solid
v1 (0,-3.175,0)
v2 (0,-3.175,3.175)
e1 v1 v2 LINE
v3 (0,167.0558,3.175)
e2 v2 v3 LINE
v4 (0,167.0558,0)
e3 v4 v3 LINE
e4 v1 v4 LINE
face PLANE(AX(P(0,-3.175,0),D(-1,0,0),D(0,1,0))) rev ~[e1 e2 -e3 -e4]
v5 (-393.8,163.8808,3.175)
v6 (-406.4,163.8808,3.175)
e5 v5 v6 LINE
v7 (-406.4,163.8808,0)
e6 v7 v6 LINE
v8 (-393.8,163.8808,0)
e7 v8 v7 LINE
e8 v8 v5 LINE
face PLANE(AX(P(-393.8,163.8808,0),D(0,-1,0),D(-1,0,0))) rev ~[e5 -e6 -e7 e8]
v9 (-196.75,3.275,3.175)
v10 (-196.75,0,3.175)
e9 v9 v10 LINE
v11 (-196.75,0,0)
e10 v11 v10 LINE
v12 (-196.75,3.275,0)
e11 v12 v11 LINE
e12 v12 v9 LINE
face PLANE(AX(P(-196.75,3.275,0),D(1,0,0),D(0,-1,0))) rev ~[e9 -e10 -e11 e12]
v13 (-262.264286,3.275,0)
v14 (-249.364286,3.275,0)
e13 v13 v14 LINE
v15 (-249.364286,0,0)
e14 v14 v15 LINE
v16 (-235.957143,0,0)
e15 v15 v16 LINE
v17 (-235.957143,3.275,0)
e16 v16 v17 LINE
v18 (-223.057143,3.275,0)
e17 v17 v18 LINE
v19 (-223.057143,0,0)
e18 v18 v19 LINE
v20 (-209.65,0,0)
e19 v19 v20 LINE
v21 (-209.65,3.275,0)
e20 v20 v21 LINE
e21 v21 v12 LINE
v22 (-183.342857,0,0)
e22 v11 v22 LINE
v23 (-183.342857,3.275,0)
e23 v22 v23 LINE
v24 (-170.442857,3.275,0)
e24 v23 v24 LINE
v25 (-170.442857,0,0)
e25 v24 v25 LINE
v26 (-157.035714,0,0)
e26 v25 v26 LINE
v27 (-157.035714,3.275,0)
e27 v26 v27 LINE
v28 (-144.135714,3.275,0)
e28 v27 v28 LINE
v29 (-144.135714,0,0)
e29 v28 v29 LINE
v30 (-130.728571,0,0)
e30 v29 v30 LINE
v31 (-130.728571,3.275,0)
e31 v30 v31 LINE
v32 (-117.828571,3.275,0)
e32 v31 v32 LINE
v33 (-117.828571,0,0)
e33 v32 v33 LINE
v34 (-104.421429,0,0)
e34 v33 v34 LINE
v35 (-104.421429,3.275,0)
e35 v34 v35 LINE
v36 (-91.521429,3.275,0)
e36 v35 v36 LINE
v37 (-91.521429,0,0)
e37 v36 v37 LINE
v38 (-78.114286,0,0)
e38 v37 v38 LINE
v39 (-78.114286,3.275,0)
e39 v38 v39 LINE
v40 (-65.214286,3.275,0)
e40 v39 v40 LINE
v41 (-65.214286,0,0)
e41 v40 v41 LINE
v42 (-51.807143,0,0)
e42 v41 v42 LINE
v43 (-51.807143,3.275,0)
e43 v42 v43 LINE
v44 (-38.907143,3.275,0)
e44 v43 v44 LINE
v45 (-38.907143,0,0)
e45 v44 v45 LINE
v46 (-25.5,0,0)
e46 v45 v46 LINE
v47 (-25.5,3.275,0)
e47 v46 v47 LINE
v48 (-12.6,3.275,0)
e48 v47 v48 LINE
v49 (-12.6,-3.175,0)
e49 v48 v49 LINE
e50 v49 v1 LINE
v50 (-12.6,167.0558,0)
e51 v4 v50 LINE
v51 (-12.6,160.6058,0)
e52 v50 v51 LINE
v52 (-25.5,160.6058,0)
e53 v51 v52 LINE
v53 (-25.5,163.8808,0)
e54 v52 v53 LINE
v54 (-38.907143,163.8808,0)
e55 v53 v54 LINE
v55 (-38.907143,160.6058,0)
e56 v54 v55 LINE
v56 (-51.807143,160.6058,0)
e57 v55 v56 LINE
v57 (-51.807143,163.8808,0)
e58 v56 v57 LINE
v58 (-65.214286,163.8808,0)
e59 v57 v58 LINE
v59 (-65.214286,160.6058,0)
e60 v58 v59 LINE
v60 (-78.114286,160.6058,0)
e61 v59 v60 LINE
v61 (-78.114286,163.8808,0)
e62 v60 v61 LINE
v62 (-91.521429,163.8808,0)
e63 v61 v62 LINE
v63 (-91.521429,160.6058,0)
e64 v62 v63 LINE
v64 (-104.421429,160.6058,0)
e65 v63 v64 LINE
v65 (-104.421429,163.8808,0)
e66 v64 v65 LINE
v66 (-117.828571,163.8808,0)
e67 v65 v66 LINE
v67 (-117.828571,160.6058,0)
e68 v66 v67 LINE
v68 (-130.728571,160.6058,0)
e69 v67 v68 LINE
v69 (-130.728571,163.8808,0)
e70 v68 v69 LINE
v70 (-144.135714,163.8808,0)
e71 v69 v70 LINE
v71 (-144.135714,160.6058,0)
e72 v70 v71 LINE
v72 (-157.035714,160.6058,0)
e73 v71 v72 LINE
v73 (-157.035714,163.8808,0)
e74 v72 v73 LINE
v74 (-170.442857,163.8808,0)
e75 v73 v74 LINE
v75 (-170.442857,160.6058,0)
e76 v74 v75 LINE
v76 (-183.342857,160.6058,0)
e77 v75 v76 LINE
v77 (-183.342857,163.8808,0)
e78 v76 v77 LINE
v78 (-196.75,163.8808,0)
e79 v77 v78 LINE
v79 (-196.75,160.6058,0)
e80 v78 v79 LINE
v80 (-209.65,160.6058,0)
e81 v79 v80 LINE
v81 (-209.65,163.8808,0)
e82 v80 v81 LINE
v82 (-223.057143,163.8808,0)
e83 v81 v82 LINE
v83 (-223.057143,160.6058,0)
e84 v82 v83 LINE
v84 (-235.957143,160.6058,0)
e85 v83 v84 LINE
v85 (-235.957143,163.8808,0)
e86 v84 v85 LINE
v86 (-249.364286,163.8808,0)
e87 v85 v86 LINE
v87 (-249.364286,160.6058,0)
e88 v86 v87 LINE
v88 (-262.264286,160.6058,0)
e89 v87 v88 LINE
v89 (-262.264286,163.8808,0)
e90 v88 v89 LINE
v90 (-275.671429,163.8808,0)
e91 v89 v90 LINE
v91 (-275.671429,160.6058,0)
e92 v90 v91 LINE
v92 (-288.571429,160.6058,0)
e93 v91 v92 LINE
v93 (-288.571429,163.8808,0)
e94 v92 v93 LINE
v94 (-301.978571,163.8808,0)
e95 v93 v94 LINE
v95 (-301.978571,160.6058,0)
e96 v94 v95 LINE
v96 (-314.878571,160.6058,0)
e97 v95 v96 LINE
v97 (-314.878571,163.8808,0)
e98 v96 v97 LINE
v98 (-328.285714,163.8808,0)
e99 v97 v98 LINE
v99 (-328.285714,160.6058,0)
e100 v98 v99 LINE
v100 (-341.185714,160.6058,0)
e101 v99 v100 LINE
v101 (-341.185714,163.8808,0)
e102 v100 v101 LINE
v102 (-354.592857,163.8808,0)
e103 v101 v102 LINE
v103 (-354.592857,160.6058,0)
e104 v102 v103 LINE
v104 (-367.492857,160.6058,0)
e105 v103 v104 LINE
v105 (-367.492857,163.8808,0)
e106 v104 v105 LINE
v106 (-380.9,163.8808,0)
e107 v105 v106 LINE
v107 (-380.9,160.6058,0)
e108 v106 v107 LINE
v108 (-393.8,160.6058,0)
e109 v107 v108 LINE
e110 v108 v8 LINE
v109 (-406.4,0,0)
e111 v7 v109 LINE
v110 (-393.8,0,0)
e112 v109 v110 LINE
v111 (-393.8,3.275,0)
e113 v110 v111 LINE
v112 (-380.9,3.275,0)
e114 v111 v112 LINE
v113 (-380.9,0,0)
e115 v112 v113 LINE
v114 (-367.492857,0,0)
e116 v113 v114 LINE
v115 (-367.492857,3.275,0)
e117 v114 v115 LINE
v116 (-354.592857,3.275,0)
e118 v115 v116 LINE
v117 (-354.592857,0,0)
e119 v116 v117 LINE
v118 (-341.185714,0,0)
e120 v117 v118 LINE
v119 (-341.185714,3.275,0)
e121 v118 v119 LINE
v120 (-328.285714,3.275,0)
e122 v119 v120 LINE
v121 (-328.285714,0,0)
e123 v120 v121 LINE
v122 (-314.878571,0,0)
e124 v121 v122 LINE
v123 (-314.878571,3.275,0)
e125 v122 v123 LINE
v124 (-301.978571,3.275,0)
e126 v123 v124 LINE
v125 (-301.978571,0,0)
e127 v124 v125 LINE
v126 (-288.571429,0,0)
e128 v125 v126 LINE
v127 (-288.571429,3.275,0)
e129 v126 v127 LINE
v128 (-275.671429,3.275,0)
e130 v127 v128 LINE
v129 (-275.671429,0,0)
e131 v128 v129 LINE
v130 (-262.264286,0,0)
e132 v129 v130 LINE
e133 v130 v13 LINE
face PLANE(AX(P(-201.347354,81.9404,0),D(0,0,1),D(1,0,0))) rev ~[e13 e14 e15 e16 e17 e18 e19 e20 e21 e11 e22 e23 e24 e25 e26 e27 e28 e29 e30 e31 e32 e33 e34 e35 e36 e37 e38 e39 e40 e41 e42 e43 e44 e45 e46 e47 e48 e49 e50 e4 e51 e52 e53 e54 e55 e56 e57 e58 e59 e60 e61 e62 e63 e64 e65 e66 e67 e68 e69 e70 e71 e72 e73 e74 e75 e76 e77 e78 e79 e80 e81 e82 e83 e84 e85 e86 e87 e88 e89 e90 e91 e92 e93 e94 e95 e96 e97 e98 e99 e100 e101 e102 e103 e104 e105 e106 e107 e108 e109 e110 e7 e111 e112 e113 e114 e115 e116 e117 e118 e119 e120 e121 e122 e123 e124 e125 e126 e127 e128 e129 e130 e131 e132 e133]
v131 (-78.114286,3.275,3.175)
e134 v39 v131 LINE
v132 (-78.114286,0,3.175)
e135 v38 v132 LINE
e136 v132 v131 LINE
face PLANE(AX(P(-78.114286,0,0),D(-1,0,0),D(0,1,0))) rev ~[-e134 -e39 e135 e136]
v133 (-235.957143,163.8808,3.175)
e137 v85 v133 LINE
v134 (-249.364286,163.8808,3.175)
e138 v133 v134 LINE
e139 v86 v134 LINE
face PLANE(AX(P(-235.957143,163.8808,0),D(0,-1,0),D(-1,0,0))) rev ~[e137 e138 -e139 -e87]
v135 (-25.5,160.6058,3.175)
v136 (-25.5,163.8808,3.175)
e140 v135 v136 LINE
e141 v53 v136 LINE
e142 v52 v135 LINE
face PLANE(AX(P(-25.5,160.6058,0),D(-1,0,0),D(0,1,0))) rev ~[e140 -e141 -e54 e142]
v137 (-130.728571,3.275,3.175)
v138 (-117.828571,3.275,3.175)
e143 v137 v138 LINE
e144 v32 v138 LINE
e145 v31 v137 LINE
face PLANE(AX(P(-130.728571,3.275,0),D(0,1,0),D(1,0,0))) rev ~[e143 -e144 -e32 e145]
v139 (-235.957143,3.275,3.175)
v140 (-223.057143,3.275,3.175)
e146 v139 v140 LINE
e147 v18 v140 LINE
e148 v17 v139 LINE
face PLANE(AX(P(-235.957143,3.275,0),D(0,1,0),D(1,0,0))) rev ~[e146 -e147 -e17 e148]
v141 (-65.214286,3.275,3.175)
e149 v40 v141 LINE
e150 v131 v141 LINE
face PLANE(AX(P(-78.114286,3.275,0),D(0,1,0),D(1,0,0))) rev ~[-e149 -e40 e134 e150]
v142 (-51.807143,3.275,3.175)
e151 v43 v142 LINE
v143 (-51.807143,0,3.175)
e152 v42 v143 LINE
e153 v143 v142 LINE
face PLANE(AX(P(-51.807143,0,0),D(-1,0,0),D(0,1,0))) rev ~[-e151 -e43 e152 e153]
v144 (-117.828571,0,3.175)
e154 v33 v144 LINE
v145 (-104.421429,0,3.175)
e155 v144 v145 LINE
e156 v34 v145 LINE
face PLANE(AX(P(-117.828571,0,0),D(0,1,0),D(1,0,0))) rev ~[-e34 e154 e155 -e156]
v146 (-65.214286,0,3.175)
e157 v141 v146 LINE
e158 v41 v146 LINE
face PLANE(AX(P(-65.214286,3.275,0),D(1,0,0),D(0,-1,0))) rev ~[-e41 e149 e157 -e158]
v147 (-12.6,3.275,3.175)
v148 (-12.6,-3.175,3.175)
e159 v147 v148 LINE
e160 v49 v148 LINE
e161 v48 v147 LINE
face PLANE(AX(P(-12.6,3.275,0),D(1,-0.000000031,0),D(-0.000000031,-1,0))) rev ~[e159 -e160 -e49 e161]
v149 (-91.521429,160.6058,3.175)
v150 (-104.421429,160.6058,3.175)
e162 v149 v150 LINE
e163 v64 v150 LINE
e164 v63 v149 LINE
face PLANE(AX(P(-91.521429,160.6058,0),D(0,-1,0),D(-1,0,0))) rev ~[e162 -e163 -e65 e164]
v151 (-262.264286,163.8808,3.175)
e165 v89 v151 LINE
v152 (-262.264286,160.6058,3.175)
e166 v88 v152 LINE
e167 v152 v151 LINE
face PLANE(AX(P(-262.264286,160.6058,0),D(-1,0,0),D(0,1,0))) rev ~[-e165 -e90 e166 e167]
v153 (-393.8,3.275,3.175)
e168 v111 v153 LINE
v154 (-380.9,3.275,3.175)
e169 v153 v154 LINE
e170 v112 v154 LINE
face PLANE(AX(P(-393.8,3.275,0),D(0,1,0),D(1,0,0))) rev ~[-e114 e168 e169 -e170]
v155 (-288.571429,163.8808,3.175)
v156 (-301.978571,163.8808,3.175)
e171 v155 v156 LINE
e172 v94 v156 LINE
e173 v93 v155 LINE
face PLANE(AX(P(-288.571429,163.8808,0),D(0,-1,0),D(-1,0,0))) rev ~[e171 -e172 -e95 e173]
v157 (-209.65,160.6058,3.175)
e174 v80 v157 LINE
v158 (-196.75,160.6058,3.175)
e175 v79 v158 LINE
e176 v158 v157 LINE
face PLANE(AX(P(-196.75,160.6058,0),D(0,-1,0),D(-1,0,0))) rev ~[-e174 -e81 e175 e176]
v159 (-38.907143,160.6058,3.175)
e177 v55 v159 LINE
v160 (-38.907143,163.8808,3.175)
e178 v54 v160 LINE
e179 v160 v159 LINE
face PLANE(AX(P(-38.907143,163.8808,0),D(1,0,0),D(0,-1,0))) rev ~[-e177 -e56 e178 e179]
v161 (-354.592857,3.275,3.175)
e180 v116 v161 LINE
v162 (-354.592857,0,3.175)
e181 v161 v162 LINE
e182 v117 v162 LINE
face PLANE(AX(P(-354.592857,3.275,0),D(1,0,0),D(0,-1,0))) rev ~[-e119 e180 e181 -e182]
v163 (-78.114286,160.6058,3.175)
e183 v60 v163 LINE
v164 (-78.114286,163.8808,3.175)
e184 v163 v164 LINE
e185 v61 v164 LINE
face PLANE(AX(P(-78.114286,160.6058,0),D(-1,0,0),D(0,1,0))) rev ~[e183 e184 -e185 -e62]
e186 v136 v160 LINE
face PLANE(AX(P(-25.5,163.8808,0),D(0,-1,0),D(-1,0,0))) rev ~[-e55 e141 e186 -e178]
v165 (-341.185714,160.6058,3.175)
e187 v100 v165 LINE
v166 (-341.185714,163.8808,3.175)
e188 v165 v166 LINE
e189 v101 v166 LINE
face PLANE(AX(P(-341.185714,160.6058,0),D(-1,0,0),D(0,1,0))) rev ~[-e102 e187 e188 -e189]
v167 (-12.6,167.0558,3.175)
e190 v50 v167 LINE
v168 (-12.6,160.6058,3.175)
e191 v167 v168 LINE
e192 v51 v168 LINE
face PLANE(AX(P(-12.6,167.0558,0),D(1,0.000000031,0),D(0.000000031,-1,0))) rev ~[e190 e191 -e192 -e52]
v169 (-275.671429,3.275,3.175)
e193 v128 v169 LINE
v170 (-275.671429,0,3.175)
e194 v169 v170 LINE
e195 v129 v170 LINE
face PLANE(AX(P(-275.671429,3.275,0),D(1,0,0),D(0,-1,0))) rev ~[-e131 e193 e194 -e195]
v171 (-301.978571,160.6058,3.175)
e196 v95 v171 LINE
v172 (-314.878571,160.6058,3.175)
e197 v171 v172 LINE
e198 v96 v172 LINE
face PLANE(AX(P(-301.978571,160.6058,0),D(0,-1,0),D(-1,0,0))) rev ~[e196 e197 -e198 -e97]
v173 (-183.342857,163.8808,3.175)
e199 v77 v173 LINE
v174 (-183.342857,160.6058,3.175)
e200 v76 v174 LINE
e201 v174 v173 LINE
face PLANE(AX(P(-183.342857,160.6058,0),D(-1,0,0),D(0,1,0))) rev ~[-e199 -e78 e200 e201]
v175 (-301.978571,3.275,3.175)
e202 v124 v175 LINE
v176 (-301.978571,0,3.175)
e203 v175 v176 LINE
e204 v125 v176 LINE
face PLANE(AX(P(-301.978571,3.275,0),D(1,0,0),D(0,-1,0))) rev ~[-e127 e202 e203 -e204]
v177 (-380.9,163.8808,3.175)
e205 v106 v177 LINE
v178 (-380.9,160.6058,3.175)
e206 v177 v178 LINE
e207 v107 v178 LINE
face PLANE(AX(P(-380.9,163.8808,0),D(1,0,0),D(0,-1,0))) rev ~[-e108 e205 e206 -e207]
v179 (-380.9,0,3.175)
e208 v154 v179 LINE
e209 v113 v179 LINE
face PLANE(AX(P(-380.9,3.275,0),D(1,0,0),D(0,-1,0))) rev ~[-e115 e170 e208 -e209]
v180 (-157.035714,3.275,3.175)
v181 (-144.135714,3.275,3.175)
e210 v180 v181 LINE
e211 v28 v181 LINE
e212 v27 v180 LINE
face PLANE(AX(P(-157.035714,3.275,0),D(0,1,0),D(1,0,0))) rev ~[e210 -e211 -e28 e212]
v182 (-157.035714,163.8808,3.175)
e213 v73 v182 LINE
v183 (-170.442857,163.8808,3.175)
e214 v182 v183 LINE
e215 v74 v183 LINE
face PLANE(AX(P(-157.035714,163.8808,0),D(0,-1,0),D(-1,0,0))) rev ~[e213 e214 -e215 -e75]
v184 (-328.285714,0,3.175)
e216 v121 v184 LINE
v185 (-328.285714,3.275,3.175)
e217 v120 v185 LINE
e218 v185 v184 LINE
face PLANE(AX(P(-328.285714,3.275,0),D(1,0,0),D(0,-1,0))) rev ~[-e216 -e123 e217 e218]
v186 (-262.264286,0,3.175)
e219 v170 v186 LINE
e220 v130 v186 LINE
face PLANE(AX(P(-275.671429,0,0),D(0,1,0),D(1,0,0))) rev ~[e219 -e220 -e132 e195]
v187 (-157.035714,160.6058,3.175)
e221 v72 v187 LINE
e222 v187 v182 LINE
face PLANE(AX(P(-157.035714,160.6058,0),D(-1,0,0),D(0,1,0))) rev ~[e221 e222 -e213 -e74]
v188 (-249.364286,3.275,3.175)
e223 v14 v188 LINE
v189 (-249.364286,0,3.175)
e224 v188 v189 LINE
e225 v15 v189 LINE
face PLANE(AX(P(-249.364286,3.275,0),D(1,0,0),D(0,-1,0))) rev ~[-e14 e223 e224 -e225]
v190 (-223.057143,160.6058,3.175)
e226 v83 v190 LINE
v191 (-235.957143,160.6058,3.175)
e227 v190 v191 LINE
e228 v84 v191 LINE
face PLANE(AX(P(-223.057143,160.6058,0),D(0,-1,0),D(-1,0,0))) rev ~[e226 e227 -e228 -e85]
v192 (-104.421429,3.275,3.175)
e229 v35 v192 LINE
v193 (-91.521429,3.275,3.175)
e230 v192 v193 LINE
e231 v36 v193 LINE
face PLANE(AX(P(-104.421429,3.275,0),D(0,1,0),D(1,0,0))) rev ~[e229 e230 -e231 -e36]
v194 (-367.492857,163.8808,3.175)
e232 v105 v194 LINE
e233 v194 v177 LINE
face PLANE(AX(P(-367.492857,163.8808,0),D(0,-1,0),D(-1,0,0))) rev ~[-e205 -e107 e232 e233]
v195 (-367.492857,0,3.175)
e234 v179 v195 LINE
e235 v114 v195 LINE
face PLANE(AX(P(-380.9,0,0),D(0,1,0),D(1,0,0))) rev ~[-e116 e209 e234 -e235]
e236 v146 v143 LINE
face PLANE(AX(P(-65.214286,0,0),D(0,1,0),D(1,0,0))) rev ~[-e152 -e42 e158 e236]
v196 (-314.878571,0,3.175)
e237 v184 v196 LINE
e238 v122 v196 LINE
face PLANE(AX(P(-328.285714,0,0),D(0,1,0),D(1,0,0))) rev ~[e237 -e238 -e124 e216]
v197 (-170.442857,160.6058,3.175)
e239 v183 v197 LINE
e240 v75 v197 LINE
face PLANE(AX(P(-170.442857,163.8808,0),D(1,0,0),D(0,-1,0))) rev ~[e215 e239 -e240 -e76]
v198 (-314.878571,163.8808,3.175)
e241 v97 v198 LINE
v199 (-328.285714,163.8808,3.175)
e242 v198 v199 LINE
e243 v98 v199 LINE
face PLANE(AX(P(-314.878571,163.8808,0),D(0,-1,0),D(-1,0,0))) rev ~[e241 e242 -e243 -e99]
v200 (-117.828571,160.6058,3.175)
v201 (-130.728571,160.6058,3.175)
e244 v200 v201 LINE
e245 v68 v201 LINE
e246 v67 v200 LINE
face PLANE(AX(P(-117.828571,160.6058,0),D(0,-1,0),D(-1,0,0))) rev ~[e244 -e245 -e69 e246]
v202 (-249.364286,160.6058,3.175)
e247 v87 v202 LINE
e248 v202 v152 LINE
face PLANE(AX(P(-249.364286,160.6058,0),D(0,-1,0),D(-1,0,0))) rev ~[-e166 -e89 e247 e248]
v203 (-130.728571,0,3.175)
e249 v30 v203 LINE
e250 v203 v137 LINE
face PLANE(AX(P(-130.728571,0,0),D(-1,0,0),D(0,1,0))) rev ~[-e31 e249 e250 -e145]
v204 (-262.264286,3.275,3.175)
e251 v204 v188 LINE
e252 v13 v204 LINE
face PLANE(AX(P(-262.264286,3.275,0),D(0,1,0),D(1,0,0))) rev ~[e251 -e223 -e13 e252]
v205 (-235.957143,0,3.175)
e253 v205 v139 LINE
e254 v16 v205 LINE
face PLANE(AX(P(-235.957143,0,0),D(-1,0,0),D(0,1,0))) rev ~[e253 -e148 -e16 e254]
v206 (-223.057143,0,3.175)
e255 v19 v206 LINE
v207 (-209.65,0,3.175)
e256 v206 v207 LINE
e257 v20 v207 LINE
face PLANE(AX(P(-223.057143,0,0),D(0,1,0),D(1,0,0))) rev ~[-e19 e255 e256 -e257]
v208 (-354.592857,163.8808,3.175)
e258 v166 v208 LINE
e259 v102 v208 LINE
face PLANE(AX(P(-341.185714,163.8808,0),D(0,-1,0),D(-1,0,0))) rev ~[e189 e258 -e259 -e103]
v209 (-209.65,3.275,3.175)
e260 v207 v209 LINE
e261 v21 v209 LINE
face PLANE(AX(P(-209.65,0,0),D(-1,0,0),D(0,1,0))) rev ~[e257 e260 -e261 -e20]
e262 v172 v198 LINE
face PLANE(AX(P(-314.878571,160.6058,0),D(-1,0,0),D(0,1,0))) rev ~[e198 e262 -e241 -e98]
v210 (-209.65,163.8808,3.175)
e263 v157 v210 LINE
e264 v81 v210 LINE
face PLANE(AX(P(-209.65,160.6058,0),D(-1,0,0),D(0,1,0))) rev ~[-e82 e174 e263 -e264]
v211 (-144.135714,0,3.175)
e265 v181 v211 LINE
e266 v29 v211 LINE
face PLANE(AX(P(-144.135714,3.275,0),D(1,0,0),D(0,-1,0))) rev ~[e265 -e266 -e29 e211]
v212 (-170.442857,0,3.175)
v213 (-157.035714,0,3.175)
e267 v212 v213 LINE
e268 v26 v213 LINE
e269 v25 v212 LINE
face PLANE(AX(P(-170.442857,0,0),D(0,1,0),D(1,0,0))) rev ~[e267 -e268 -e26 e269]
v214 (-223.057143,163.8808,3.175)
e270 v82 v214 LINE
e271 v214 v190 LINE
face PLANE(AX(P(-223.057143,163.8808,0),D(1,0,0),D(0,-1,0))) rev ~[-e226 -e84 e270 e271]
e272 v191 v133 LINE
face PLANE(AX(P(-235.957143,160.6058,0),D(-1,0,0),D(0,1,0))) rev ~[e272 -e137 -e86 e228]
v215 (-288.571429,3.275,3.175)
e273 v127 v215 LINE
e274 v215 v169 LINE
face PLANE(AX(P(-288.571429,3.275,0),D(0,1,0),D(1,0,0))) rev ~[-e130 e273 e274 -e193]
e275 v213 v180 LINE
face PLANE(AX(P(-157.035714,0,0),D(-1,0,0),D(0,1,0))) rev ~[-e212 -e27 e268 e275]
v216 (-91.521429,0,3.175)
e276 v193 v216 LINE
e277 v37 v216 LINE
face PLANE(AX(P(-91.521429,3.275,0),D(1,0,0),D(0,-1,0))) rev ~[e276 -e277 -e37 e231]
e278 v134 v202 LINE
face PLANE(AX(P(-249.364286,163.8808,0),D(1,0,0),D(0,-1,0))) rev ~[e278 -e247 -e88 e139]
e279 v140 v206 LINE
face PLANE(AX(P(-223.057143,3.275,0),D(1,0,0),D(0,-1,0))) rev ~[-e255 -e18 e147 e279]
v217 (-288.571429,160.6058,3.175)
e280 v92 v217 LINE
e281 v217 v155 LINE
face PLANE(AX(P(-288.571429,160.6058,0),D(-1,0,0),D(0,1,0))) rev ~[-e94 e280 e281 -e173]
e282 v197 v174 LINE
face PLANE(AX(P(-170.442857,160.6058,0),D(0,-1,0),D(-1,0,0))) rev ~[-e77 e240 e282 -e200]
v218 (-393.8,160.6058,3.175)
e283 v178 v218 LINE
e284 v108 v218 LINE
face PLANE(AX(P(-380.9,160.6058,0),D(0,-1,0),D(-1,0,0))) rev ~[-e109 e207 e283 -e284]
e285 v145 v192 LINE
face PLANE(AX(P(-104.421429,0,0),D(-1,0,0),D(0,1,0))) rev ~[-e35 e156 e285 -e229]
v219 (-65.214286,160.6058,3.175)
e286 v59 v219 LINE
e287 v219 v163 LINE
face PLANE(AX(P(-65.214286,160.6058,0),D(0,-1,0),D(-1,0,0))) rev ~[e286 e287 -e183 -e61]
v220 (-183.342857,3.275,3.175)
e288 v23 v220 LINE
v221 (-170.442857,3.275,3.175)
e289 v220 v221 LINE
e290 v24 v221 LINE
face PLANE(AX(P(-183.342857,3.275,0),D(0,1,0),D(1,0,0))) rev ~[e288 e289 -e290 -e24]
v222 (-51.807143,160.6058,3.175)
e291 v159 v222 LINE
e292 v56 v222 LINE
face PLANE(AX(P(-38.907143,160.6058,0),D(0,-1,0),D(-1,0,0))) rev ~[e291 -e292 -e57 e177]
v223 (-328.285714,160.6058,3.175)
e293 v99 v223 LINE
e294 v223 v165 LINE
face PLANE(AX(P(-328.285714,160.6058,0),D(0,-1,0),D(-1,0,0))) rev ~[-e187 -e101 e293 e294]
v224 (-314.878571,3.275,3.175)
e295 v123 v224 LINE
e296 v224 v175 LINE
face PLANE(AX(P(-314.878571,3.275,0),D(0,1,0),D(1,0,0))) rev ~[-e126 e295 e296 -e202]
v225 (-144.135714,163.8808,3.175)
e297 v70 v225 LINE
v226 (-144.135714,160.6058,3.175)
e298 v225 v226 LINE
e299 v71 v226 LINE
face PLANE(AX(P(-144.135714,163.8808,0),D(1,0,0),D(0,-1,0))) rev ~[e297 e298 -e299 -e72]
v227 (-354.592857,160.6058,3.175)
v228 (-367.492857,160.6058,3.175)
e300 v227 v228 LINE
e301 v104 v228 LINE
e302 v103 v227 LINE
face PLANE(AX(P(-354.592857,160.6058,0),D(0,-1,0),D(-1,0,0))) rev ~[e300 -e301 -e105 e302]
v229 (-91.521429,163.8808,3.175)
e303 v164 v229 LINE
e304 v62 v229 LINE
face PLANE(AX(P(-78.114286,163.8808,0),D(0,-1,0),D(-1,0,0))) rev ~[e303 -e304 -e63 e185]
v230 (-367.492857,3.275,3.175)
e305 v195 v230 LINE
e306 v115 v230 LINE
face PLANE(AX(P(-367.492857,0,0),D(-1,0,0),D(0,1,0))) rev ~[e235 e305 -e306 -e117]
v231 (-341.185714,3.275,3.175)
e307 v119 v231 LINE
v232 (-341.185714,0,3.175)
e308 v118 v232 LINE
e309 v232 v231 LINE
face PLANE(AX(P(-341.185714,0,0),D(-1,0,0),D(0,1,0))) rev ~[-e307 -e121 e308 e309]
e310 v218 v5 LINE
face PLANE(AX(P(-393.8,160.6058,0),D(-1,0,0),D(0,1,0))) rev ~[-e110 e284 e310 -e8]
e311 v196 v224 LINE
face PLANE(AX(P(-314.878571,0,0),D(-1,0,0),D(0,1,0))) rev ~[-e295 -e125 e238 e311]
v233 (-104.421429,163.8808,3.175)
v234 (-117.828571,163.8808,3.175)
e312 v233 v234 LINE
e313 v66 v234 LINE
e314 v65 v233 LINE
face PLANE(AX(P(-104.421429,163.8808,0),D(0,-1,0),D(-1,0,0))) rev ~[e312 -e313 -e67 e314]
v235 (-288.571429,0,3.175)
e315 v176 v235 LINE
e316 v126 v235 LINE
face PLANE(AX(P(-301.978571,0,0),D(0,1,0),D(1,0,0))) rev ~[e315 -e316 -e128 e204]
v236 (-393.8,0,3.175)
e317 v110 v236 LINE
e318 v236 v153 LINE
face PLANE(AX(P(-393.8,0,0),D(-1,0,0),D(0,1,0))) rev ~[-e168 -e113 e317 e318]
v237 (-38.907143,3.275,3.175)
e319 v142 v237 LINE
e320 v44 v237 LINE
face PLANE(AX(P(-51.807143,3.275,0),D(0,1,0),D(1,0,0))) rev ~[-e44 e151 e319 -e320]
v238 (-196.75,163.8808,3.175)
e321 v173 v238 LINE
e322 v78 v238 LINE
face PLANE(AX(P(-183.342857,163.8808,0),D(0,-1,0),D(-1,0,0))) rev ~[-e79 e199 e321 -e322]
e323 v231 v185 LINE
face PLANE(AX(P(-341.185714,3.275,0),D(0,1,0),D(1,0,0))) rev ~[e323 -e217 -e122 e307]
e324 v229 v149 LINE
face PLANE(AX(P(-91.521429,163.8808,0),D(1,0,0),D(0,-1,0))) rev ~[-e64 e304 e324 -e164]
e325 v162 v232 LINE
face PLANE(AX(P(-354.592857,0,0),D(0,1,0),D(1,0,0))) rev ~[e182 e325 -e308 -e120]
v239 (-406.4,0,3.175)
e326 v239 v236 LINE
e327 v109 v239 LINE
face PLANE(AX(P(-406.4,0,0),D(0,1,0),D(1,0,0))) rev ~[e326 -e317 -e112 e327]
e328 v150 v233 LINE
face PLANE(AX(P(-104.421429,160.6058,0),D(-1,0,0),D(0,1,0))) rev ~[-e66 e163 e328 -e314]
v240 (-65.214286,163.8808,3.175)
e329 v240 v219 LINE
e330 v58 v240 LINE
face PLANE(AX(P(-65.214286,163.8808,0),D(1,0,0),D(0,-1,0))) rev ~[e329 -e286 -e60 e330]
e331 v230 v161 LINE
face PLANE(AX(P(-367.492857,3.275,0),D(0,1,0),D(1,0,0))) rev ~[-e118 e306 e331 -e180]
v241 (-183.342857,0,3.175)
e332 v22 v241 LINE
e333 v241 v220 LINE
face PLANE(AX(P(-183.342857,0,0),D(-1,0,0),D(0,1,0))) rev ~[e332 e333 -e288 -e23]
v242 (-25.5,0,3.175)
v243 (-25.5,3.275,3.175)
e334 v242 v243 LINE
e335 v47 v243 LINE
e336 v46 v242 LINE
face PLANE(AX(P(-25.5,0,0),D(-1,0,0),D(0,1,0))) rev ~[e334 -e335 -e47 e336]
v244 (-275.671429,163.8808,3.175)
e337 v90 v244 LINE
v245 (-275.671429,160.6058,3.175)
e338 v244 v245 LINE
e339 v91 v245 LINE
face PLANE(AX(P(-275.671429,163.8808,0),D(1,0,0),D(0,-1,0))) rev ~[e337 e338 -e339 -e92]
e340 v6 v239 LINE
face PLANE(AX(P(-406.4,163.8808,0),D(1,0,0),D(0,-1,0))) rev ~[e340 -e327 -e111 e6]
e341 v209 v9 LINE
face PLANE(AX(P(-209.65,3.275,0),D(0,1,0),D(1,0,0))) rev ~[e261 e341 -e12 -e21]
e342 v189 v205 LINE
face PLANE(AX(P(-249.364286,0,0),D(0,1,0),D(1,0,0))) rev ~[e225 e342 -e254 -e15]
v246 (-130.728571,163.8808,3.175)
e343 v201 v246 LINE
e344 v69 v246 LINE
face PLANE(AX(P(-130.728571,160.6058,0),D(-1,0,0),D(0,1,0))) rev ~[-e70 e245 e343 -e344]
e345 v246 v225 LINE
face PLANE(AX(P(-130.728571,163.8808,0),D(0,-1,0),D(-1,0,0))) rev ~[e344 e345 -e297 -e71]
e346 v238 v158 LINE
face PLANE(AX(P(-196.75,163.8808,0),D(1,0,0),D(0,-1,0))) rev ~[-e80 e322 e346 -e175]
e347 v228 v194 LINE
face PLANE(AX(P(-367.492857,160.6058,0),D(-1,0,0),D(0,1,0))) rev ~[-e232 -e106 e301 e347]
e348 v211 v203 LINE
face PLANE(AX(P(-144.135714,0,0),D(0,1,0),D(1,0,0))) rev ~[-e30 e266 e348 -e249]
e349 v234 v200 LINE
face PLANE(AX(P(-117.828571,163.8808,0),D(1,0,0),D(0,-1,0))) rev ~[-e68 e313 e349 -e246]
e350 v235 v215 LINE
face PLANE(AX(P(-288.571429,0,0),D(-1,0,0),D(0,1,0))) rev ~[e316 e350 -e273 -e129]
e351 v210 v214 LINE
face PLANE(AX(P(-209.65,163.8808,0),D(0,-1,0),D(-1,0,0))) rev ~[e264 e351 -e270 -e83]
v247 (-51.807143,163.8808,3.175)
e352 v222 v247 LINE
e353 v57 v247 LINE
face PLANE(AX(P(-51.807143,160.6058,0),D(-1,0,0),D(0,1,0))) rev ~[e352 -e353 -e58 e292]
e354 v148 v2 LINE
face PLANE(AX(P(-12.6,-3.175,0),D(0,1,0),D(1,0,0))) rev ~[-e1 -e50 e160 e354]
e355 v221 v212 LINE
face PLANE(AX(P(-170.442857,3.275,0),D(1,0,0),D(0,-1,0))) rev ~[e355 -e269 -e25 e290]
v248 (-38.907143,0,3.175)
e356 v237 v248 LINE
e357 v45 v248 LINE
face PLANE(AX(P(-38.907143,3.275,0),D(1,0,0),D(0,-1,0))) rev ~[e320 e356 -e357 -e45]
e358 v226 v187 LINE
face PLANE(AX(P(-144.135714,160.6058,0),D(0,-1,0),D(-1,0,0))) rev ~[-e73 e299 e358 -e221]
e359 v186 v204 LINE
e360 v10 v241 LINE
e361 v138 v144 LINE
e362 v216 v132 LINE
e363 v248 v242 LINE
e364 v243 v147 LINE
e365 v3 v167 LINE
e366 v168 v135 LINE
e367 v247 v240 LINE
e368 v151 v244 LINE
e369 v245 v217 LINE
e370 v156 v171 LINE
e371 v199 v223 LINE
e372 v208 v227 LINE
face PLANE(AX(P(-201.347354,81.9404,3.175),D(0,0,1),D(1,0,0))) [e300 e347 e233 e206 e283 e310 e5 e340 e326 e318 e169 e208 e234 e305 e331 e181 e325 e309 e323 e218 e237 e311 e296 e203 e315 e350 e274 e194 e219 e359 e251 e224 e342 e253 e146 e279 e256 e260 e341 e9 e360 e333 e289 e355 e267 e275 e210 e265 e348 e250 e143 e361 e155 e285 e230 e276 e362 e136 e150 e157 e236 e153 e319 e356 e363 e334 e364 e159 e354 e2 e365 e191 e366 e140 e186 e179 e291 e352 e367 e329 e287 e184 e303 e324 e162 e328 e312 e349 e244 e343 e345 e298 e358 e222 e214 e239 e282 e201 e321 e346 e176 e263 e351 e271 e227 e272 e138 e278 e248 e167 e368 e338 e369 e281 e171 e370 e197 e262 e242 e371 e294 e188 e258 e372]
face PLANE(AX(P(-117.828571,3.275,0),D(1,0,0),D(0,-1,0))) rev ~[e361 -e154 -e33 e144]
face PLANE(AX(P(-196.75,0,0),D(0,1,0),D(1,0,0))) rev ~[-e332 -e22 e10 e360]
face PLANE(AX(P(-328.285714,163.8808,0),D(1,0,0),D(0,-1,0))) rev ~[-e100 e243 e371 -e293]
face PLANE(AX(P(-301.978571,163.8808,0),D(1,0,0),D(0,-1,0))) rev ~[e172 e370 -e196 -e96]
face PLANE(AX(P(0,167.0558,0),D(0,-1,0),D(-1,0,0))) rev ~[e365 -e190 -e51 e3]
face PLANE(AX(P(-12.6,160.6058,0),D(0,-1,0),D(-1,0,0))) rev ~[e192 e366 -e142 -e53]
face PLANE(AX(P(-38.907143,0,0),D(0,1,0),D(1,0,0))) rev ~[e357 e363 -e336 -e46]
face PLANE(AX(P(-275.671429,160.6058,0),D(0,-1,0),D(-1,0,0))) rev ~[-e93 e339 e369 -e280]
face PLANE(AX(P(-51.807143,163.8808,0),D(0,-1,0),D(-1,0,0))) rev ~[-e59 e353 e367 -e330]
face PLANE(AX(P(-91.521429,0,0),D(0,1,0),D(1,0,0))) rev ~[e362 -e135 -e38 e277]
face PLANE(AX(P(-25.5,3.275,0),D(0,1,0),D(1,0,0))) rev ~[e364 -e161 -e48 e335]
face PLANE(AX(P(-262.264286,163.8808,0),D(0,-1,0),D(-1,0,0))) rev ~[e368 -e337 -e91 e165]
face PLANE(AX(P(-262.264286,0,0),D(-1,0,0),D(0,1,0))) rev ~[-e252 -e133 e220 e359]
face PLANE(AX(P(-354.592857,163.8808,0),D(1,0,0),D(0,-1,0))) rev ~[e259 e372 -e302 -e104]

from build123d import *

# Parameters (mm, degrees)
BOSS_EXTRUDE1_DEPTH = 3.175


with BuildPart() as part:
    # Sketch1 → Boss-Extrude1 (new body)
    with BuildSketch(Plane.XY):
        Polygon((-12.6, 160.6058), (-25.5, 160.6058), (-25.5, 163.8808), (-38.907142857, 163.8808), (-38.907142857, 160.6058), (-51.807142857, 160.6058), (-51.807142857, 163.8808), (-65.214285714, 163.8808), (-65.214285714, 160.6058), (-78.114285714, 160.6058), (-78.114285714, 163.8808), (-91.521428571, 163.8808), (-91.521428571, 160.6058), (-104.421428571, 160.6058), (-104.421428571, 163.8808), (-117.828571429, 163.8808), (-117.828571429, 160.6058), (-130.728571429, 160.6058), (-130.728571429, 163.8808), (-144.135714286, 163.8808), (-144.135714286, 160.6058), (-157.035714286, 160.6058), (-157.035714286, 163.8808), (-170.442857143, 163.8808), (-170.442857143, 160.6058), (-183.342857143, 160.6058), (-183.342857143, 163.8808), (-196.75, 163.8808), (-196.75, 160.6058), (-209.65, 160.6058), (-209.65, 163.8808), (-223.057142857, 163.8808), (-223.057142857, 160.6058), (-235.957142857, 160.6058), (-235.957142857, 163.8808), (-249.364285714, 163.8808), (-249.364285714, 160.6058), (-262.264285714, 160.6058), (-262.264285714, 163.8808), (-275.671428571, 163.8808), (-275.671428571, 160.6058), (-288.571428571, 160.6058), (-288.571428571, 163.8808), (-301.978571429, 163.8808), (-301.978571429, 160.6058), (-314.878571429, 160.6058), (-314.878571429, 163.8808), (-328.285714286, 163.8808), (-328.285714286, 160.6058), (-341.185714286, 160.6058), (-341.185714286, 163.8808), (-354.592857143, 163.8808), (-354.592857143, 160.6058), (-367.492857143, 160.6058), (-367.492857143, 163.8808), (-380.9, 163.8808), (-380.9, 160.6058), (-393.8, 160.6058), (-393.8, 163.8808), (-406.4, 163.8808), (-406.4, 0), (-393.8, 0), (-393.8, 3.275), (-380.9, 3.275), (-380.9, 0), (-367.492857143, 0), (-367.492857143, 3.275), (-354.592857143, 3.275), (-354.592857143, 0), (-341.185714286, 0), (-341.185714286, 3.275), (-328.285714286, 3.275), (-328.285714286, 0), (-314.878571429, 0), (-314.878571429, 3.275), (-301.978571429, 3.275), (-301.978571429, 0), (-288.571428571, 0), (-288.571428571, 3.275), (-275.671428571, 3.275), (-275.671428571, 0), (-262.264285714, 0), (-262.264285714, 3.275), (-249.364285714, 3.275), (-249.364285714, 0), (-235.957142857, 0), (-235.957142857, 3.275), (-223.057142857, 3.275), (-223.057142857, 0), (-209.65, 0), (-209.65, 3.275), (-196.75, 3.275), (-196.75, 0), (-183.342857143, 0), (-183.342857143, 3.275), (-170.442857143, 3.275), (-170.442857143, 0), (-157.035714286, 0), (-157.035714286, 3.275), (-144.135714286, 3.275), (-144.135714286, 0), (-130.728571429, 0), (-130.728571429, 3.275), (-117.828571429, 3.275), (-117.828571429, 0), (-104.421428571, 0), (-104.421428571, 3.275), (-91.521428571, 3.275), (-91.521428571, 0), (-78.114285714, 0), (-78.114285714, 3.275), (-65.214285714, 3.275), (-65.214285714, 0), (-51.807142857, 0), (-51.807142857, 3.275), (-38.907142857, 3.275), (-38.907142857, 0), (-25.5, 0), (-25.5, 3.275), (-12.6, 3.275), (-12.6000002, -3.175), (0, -3.175), (0, 167.0558), (-12.6000002, 167.0558), align=None)
    extrude(amount=BOSS_EXTRUDE1_DEPTH)


solid = part.part
